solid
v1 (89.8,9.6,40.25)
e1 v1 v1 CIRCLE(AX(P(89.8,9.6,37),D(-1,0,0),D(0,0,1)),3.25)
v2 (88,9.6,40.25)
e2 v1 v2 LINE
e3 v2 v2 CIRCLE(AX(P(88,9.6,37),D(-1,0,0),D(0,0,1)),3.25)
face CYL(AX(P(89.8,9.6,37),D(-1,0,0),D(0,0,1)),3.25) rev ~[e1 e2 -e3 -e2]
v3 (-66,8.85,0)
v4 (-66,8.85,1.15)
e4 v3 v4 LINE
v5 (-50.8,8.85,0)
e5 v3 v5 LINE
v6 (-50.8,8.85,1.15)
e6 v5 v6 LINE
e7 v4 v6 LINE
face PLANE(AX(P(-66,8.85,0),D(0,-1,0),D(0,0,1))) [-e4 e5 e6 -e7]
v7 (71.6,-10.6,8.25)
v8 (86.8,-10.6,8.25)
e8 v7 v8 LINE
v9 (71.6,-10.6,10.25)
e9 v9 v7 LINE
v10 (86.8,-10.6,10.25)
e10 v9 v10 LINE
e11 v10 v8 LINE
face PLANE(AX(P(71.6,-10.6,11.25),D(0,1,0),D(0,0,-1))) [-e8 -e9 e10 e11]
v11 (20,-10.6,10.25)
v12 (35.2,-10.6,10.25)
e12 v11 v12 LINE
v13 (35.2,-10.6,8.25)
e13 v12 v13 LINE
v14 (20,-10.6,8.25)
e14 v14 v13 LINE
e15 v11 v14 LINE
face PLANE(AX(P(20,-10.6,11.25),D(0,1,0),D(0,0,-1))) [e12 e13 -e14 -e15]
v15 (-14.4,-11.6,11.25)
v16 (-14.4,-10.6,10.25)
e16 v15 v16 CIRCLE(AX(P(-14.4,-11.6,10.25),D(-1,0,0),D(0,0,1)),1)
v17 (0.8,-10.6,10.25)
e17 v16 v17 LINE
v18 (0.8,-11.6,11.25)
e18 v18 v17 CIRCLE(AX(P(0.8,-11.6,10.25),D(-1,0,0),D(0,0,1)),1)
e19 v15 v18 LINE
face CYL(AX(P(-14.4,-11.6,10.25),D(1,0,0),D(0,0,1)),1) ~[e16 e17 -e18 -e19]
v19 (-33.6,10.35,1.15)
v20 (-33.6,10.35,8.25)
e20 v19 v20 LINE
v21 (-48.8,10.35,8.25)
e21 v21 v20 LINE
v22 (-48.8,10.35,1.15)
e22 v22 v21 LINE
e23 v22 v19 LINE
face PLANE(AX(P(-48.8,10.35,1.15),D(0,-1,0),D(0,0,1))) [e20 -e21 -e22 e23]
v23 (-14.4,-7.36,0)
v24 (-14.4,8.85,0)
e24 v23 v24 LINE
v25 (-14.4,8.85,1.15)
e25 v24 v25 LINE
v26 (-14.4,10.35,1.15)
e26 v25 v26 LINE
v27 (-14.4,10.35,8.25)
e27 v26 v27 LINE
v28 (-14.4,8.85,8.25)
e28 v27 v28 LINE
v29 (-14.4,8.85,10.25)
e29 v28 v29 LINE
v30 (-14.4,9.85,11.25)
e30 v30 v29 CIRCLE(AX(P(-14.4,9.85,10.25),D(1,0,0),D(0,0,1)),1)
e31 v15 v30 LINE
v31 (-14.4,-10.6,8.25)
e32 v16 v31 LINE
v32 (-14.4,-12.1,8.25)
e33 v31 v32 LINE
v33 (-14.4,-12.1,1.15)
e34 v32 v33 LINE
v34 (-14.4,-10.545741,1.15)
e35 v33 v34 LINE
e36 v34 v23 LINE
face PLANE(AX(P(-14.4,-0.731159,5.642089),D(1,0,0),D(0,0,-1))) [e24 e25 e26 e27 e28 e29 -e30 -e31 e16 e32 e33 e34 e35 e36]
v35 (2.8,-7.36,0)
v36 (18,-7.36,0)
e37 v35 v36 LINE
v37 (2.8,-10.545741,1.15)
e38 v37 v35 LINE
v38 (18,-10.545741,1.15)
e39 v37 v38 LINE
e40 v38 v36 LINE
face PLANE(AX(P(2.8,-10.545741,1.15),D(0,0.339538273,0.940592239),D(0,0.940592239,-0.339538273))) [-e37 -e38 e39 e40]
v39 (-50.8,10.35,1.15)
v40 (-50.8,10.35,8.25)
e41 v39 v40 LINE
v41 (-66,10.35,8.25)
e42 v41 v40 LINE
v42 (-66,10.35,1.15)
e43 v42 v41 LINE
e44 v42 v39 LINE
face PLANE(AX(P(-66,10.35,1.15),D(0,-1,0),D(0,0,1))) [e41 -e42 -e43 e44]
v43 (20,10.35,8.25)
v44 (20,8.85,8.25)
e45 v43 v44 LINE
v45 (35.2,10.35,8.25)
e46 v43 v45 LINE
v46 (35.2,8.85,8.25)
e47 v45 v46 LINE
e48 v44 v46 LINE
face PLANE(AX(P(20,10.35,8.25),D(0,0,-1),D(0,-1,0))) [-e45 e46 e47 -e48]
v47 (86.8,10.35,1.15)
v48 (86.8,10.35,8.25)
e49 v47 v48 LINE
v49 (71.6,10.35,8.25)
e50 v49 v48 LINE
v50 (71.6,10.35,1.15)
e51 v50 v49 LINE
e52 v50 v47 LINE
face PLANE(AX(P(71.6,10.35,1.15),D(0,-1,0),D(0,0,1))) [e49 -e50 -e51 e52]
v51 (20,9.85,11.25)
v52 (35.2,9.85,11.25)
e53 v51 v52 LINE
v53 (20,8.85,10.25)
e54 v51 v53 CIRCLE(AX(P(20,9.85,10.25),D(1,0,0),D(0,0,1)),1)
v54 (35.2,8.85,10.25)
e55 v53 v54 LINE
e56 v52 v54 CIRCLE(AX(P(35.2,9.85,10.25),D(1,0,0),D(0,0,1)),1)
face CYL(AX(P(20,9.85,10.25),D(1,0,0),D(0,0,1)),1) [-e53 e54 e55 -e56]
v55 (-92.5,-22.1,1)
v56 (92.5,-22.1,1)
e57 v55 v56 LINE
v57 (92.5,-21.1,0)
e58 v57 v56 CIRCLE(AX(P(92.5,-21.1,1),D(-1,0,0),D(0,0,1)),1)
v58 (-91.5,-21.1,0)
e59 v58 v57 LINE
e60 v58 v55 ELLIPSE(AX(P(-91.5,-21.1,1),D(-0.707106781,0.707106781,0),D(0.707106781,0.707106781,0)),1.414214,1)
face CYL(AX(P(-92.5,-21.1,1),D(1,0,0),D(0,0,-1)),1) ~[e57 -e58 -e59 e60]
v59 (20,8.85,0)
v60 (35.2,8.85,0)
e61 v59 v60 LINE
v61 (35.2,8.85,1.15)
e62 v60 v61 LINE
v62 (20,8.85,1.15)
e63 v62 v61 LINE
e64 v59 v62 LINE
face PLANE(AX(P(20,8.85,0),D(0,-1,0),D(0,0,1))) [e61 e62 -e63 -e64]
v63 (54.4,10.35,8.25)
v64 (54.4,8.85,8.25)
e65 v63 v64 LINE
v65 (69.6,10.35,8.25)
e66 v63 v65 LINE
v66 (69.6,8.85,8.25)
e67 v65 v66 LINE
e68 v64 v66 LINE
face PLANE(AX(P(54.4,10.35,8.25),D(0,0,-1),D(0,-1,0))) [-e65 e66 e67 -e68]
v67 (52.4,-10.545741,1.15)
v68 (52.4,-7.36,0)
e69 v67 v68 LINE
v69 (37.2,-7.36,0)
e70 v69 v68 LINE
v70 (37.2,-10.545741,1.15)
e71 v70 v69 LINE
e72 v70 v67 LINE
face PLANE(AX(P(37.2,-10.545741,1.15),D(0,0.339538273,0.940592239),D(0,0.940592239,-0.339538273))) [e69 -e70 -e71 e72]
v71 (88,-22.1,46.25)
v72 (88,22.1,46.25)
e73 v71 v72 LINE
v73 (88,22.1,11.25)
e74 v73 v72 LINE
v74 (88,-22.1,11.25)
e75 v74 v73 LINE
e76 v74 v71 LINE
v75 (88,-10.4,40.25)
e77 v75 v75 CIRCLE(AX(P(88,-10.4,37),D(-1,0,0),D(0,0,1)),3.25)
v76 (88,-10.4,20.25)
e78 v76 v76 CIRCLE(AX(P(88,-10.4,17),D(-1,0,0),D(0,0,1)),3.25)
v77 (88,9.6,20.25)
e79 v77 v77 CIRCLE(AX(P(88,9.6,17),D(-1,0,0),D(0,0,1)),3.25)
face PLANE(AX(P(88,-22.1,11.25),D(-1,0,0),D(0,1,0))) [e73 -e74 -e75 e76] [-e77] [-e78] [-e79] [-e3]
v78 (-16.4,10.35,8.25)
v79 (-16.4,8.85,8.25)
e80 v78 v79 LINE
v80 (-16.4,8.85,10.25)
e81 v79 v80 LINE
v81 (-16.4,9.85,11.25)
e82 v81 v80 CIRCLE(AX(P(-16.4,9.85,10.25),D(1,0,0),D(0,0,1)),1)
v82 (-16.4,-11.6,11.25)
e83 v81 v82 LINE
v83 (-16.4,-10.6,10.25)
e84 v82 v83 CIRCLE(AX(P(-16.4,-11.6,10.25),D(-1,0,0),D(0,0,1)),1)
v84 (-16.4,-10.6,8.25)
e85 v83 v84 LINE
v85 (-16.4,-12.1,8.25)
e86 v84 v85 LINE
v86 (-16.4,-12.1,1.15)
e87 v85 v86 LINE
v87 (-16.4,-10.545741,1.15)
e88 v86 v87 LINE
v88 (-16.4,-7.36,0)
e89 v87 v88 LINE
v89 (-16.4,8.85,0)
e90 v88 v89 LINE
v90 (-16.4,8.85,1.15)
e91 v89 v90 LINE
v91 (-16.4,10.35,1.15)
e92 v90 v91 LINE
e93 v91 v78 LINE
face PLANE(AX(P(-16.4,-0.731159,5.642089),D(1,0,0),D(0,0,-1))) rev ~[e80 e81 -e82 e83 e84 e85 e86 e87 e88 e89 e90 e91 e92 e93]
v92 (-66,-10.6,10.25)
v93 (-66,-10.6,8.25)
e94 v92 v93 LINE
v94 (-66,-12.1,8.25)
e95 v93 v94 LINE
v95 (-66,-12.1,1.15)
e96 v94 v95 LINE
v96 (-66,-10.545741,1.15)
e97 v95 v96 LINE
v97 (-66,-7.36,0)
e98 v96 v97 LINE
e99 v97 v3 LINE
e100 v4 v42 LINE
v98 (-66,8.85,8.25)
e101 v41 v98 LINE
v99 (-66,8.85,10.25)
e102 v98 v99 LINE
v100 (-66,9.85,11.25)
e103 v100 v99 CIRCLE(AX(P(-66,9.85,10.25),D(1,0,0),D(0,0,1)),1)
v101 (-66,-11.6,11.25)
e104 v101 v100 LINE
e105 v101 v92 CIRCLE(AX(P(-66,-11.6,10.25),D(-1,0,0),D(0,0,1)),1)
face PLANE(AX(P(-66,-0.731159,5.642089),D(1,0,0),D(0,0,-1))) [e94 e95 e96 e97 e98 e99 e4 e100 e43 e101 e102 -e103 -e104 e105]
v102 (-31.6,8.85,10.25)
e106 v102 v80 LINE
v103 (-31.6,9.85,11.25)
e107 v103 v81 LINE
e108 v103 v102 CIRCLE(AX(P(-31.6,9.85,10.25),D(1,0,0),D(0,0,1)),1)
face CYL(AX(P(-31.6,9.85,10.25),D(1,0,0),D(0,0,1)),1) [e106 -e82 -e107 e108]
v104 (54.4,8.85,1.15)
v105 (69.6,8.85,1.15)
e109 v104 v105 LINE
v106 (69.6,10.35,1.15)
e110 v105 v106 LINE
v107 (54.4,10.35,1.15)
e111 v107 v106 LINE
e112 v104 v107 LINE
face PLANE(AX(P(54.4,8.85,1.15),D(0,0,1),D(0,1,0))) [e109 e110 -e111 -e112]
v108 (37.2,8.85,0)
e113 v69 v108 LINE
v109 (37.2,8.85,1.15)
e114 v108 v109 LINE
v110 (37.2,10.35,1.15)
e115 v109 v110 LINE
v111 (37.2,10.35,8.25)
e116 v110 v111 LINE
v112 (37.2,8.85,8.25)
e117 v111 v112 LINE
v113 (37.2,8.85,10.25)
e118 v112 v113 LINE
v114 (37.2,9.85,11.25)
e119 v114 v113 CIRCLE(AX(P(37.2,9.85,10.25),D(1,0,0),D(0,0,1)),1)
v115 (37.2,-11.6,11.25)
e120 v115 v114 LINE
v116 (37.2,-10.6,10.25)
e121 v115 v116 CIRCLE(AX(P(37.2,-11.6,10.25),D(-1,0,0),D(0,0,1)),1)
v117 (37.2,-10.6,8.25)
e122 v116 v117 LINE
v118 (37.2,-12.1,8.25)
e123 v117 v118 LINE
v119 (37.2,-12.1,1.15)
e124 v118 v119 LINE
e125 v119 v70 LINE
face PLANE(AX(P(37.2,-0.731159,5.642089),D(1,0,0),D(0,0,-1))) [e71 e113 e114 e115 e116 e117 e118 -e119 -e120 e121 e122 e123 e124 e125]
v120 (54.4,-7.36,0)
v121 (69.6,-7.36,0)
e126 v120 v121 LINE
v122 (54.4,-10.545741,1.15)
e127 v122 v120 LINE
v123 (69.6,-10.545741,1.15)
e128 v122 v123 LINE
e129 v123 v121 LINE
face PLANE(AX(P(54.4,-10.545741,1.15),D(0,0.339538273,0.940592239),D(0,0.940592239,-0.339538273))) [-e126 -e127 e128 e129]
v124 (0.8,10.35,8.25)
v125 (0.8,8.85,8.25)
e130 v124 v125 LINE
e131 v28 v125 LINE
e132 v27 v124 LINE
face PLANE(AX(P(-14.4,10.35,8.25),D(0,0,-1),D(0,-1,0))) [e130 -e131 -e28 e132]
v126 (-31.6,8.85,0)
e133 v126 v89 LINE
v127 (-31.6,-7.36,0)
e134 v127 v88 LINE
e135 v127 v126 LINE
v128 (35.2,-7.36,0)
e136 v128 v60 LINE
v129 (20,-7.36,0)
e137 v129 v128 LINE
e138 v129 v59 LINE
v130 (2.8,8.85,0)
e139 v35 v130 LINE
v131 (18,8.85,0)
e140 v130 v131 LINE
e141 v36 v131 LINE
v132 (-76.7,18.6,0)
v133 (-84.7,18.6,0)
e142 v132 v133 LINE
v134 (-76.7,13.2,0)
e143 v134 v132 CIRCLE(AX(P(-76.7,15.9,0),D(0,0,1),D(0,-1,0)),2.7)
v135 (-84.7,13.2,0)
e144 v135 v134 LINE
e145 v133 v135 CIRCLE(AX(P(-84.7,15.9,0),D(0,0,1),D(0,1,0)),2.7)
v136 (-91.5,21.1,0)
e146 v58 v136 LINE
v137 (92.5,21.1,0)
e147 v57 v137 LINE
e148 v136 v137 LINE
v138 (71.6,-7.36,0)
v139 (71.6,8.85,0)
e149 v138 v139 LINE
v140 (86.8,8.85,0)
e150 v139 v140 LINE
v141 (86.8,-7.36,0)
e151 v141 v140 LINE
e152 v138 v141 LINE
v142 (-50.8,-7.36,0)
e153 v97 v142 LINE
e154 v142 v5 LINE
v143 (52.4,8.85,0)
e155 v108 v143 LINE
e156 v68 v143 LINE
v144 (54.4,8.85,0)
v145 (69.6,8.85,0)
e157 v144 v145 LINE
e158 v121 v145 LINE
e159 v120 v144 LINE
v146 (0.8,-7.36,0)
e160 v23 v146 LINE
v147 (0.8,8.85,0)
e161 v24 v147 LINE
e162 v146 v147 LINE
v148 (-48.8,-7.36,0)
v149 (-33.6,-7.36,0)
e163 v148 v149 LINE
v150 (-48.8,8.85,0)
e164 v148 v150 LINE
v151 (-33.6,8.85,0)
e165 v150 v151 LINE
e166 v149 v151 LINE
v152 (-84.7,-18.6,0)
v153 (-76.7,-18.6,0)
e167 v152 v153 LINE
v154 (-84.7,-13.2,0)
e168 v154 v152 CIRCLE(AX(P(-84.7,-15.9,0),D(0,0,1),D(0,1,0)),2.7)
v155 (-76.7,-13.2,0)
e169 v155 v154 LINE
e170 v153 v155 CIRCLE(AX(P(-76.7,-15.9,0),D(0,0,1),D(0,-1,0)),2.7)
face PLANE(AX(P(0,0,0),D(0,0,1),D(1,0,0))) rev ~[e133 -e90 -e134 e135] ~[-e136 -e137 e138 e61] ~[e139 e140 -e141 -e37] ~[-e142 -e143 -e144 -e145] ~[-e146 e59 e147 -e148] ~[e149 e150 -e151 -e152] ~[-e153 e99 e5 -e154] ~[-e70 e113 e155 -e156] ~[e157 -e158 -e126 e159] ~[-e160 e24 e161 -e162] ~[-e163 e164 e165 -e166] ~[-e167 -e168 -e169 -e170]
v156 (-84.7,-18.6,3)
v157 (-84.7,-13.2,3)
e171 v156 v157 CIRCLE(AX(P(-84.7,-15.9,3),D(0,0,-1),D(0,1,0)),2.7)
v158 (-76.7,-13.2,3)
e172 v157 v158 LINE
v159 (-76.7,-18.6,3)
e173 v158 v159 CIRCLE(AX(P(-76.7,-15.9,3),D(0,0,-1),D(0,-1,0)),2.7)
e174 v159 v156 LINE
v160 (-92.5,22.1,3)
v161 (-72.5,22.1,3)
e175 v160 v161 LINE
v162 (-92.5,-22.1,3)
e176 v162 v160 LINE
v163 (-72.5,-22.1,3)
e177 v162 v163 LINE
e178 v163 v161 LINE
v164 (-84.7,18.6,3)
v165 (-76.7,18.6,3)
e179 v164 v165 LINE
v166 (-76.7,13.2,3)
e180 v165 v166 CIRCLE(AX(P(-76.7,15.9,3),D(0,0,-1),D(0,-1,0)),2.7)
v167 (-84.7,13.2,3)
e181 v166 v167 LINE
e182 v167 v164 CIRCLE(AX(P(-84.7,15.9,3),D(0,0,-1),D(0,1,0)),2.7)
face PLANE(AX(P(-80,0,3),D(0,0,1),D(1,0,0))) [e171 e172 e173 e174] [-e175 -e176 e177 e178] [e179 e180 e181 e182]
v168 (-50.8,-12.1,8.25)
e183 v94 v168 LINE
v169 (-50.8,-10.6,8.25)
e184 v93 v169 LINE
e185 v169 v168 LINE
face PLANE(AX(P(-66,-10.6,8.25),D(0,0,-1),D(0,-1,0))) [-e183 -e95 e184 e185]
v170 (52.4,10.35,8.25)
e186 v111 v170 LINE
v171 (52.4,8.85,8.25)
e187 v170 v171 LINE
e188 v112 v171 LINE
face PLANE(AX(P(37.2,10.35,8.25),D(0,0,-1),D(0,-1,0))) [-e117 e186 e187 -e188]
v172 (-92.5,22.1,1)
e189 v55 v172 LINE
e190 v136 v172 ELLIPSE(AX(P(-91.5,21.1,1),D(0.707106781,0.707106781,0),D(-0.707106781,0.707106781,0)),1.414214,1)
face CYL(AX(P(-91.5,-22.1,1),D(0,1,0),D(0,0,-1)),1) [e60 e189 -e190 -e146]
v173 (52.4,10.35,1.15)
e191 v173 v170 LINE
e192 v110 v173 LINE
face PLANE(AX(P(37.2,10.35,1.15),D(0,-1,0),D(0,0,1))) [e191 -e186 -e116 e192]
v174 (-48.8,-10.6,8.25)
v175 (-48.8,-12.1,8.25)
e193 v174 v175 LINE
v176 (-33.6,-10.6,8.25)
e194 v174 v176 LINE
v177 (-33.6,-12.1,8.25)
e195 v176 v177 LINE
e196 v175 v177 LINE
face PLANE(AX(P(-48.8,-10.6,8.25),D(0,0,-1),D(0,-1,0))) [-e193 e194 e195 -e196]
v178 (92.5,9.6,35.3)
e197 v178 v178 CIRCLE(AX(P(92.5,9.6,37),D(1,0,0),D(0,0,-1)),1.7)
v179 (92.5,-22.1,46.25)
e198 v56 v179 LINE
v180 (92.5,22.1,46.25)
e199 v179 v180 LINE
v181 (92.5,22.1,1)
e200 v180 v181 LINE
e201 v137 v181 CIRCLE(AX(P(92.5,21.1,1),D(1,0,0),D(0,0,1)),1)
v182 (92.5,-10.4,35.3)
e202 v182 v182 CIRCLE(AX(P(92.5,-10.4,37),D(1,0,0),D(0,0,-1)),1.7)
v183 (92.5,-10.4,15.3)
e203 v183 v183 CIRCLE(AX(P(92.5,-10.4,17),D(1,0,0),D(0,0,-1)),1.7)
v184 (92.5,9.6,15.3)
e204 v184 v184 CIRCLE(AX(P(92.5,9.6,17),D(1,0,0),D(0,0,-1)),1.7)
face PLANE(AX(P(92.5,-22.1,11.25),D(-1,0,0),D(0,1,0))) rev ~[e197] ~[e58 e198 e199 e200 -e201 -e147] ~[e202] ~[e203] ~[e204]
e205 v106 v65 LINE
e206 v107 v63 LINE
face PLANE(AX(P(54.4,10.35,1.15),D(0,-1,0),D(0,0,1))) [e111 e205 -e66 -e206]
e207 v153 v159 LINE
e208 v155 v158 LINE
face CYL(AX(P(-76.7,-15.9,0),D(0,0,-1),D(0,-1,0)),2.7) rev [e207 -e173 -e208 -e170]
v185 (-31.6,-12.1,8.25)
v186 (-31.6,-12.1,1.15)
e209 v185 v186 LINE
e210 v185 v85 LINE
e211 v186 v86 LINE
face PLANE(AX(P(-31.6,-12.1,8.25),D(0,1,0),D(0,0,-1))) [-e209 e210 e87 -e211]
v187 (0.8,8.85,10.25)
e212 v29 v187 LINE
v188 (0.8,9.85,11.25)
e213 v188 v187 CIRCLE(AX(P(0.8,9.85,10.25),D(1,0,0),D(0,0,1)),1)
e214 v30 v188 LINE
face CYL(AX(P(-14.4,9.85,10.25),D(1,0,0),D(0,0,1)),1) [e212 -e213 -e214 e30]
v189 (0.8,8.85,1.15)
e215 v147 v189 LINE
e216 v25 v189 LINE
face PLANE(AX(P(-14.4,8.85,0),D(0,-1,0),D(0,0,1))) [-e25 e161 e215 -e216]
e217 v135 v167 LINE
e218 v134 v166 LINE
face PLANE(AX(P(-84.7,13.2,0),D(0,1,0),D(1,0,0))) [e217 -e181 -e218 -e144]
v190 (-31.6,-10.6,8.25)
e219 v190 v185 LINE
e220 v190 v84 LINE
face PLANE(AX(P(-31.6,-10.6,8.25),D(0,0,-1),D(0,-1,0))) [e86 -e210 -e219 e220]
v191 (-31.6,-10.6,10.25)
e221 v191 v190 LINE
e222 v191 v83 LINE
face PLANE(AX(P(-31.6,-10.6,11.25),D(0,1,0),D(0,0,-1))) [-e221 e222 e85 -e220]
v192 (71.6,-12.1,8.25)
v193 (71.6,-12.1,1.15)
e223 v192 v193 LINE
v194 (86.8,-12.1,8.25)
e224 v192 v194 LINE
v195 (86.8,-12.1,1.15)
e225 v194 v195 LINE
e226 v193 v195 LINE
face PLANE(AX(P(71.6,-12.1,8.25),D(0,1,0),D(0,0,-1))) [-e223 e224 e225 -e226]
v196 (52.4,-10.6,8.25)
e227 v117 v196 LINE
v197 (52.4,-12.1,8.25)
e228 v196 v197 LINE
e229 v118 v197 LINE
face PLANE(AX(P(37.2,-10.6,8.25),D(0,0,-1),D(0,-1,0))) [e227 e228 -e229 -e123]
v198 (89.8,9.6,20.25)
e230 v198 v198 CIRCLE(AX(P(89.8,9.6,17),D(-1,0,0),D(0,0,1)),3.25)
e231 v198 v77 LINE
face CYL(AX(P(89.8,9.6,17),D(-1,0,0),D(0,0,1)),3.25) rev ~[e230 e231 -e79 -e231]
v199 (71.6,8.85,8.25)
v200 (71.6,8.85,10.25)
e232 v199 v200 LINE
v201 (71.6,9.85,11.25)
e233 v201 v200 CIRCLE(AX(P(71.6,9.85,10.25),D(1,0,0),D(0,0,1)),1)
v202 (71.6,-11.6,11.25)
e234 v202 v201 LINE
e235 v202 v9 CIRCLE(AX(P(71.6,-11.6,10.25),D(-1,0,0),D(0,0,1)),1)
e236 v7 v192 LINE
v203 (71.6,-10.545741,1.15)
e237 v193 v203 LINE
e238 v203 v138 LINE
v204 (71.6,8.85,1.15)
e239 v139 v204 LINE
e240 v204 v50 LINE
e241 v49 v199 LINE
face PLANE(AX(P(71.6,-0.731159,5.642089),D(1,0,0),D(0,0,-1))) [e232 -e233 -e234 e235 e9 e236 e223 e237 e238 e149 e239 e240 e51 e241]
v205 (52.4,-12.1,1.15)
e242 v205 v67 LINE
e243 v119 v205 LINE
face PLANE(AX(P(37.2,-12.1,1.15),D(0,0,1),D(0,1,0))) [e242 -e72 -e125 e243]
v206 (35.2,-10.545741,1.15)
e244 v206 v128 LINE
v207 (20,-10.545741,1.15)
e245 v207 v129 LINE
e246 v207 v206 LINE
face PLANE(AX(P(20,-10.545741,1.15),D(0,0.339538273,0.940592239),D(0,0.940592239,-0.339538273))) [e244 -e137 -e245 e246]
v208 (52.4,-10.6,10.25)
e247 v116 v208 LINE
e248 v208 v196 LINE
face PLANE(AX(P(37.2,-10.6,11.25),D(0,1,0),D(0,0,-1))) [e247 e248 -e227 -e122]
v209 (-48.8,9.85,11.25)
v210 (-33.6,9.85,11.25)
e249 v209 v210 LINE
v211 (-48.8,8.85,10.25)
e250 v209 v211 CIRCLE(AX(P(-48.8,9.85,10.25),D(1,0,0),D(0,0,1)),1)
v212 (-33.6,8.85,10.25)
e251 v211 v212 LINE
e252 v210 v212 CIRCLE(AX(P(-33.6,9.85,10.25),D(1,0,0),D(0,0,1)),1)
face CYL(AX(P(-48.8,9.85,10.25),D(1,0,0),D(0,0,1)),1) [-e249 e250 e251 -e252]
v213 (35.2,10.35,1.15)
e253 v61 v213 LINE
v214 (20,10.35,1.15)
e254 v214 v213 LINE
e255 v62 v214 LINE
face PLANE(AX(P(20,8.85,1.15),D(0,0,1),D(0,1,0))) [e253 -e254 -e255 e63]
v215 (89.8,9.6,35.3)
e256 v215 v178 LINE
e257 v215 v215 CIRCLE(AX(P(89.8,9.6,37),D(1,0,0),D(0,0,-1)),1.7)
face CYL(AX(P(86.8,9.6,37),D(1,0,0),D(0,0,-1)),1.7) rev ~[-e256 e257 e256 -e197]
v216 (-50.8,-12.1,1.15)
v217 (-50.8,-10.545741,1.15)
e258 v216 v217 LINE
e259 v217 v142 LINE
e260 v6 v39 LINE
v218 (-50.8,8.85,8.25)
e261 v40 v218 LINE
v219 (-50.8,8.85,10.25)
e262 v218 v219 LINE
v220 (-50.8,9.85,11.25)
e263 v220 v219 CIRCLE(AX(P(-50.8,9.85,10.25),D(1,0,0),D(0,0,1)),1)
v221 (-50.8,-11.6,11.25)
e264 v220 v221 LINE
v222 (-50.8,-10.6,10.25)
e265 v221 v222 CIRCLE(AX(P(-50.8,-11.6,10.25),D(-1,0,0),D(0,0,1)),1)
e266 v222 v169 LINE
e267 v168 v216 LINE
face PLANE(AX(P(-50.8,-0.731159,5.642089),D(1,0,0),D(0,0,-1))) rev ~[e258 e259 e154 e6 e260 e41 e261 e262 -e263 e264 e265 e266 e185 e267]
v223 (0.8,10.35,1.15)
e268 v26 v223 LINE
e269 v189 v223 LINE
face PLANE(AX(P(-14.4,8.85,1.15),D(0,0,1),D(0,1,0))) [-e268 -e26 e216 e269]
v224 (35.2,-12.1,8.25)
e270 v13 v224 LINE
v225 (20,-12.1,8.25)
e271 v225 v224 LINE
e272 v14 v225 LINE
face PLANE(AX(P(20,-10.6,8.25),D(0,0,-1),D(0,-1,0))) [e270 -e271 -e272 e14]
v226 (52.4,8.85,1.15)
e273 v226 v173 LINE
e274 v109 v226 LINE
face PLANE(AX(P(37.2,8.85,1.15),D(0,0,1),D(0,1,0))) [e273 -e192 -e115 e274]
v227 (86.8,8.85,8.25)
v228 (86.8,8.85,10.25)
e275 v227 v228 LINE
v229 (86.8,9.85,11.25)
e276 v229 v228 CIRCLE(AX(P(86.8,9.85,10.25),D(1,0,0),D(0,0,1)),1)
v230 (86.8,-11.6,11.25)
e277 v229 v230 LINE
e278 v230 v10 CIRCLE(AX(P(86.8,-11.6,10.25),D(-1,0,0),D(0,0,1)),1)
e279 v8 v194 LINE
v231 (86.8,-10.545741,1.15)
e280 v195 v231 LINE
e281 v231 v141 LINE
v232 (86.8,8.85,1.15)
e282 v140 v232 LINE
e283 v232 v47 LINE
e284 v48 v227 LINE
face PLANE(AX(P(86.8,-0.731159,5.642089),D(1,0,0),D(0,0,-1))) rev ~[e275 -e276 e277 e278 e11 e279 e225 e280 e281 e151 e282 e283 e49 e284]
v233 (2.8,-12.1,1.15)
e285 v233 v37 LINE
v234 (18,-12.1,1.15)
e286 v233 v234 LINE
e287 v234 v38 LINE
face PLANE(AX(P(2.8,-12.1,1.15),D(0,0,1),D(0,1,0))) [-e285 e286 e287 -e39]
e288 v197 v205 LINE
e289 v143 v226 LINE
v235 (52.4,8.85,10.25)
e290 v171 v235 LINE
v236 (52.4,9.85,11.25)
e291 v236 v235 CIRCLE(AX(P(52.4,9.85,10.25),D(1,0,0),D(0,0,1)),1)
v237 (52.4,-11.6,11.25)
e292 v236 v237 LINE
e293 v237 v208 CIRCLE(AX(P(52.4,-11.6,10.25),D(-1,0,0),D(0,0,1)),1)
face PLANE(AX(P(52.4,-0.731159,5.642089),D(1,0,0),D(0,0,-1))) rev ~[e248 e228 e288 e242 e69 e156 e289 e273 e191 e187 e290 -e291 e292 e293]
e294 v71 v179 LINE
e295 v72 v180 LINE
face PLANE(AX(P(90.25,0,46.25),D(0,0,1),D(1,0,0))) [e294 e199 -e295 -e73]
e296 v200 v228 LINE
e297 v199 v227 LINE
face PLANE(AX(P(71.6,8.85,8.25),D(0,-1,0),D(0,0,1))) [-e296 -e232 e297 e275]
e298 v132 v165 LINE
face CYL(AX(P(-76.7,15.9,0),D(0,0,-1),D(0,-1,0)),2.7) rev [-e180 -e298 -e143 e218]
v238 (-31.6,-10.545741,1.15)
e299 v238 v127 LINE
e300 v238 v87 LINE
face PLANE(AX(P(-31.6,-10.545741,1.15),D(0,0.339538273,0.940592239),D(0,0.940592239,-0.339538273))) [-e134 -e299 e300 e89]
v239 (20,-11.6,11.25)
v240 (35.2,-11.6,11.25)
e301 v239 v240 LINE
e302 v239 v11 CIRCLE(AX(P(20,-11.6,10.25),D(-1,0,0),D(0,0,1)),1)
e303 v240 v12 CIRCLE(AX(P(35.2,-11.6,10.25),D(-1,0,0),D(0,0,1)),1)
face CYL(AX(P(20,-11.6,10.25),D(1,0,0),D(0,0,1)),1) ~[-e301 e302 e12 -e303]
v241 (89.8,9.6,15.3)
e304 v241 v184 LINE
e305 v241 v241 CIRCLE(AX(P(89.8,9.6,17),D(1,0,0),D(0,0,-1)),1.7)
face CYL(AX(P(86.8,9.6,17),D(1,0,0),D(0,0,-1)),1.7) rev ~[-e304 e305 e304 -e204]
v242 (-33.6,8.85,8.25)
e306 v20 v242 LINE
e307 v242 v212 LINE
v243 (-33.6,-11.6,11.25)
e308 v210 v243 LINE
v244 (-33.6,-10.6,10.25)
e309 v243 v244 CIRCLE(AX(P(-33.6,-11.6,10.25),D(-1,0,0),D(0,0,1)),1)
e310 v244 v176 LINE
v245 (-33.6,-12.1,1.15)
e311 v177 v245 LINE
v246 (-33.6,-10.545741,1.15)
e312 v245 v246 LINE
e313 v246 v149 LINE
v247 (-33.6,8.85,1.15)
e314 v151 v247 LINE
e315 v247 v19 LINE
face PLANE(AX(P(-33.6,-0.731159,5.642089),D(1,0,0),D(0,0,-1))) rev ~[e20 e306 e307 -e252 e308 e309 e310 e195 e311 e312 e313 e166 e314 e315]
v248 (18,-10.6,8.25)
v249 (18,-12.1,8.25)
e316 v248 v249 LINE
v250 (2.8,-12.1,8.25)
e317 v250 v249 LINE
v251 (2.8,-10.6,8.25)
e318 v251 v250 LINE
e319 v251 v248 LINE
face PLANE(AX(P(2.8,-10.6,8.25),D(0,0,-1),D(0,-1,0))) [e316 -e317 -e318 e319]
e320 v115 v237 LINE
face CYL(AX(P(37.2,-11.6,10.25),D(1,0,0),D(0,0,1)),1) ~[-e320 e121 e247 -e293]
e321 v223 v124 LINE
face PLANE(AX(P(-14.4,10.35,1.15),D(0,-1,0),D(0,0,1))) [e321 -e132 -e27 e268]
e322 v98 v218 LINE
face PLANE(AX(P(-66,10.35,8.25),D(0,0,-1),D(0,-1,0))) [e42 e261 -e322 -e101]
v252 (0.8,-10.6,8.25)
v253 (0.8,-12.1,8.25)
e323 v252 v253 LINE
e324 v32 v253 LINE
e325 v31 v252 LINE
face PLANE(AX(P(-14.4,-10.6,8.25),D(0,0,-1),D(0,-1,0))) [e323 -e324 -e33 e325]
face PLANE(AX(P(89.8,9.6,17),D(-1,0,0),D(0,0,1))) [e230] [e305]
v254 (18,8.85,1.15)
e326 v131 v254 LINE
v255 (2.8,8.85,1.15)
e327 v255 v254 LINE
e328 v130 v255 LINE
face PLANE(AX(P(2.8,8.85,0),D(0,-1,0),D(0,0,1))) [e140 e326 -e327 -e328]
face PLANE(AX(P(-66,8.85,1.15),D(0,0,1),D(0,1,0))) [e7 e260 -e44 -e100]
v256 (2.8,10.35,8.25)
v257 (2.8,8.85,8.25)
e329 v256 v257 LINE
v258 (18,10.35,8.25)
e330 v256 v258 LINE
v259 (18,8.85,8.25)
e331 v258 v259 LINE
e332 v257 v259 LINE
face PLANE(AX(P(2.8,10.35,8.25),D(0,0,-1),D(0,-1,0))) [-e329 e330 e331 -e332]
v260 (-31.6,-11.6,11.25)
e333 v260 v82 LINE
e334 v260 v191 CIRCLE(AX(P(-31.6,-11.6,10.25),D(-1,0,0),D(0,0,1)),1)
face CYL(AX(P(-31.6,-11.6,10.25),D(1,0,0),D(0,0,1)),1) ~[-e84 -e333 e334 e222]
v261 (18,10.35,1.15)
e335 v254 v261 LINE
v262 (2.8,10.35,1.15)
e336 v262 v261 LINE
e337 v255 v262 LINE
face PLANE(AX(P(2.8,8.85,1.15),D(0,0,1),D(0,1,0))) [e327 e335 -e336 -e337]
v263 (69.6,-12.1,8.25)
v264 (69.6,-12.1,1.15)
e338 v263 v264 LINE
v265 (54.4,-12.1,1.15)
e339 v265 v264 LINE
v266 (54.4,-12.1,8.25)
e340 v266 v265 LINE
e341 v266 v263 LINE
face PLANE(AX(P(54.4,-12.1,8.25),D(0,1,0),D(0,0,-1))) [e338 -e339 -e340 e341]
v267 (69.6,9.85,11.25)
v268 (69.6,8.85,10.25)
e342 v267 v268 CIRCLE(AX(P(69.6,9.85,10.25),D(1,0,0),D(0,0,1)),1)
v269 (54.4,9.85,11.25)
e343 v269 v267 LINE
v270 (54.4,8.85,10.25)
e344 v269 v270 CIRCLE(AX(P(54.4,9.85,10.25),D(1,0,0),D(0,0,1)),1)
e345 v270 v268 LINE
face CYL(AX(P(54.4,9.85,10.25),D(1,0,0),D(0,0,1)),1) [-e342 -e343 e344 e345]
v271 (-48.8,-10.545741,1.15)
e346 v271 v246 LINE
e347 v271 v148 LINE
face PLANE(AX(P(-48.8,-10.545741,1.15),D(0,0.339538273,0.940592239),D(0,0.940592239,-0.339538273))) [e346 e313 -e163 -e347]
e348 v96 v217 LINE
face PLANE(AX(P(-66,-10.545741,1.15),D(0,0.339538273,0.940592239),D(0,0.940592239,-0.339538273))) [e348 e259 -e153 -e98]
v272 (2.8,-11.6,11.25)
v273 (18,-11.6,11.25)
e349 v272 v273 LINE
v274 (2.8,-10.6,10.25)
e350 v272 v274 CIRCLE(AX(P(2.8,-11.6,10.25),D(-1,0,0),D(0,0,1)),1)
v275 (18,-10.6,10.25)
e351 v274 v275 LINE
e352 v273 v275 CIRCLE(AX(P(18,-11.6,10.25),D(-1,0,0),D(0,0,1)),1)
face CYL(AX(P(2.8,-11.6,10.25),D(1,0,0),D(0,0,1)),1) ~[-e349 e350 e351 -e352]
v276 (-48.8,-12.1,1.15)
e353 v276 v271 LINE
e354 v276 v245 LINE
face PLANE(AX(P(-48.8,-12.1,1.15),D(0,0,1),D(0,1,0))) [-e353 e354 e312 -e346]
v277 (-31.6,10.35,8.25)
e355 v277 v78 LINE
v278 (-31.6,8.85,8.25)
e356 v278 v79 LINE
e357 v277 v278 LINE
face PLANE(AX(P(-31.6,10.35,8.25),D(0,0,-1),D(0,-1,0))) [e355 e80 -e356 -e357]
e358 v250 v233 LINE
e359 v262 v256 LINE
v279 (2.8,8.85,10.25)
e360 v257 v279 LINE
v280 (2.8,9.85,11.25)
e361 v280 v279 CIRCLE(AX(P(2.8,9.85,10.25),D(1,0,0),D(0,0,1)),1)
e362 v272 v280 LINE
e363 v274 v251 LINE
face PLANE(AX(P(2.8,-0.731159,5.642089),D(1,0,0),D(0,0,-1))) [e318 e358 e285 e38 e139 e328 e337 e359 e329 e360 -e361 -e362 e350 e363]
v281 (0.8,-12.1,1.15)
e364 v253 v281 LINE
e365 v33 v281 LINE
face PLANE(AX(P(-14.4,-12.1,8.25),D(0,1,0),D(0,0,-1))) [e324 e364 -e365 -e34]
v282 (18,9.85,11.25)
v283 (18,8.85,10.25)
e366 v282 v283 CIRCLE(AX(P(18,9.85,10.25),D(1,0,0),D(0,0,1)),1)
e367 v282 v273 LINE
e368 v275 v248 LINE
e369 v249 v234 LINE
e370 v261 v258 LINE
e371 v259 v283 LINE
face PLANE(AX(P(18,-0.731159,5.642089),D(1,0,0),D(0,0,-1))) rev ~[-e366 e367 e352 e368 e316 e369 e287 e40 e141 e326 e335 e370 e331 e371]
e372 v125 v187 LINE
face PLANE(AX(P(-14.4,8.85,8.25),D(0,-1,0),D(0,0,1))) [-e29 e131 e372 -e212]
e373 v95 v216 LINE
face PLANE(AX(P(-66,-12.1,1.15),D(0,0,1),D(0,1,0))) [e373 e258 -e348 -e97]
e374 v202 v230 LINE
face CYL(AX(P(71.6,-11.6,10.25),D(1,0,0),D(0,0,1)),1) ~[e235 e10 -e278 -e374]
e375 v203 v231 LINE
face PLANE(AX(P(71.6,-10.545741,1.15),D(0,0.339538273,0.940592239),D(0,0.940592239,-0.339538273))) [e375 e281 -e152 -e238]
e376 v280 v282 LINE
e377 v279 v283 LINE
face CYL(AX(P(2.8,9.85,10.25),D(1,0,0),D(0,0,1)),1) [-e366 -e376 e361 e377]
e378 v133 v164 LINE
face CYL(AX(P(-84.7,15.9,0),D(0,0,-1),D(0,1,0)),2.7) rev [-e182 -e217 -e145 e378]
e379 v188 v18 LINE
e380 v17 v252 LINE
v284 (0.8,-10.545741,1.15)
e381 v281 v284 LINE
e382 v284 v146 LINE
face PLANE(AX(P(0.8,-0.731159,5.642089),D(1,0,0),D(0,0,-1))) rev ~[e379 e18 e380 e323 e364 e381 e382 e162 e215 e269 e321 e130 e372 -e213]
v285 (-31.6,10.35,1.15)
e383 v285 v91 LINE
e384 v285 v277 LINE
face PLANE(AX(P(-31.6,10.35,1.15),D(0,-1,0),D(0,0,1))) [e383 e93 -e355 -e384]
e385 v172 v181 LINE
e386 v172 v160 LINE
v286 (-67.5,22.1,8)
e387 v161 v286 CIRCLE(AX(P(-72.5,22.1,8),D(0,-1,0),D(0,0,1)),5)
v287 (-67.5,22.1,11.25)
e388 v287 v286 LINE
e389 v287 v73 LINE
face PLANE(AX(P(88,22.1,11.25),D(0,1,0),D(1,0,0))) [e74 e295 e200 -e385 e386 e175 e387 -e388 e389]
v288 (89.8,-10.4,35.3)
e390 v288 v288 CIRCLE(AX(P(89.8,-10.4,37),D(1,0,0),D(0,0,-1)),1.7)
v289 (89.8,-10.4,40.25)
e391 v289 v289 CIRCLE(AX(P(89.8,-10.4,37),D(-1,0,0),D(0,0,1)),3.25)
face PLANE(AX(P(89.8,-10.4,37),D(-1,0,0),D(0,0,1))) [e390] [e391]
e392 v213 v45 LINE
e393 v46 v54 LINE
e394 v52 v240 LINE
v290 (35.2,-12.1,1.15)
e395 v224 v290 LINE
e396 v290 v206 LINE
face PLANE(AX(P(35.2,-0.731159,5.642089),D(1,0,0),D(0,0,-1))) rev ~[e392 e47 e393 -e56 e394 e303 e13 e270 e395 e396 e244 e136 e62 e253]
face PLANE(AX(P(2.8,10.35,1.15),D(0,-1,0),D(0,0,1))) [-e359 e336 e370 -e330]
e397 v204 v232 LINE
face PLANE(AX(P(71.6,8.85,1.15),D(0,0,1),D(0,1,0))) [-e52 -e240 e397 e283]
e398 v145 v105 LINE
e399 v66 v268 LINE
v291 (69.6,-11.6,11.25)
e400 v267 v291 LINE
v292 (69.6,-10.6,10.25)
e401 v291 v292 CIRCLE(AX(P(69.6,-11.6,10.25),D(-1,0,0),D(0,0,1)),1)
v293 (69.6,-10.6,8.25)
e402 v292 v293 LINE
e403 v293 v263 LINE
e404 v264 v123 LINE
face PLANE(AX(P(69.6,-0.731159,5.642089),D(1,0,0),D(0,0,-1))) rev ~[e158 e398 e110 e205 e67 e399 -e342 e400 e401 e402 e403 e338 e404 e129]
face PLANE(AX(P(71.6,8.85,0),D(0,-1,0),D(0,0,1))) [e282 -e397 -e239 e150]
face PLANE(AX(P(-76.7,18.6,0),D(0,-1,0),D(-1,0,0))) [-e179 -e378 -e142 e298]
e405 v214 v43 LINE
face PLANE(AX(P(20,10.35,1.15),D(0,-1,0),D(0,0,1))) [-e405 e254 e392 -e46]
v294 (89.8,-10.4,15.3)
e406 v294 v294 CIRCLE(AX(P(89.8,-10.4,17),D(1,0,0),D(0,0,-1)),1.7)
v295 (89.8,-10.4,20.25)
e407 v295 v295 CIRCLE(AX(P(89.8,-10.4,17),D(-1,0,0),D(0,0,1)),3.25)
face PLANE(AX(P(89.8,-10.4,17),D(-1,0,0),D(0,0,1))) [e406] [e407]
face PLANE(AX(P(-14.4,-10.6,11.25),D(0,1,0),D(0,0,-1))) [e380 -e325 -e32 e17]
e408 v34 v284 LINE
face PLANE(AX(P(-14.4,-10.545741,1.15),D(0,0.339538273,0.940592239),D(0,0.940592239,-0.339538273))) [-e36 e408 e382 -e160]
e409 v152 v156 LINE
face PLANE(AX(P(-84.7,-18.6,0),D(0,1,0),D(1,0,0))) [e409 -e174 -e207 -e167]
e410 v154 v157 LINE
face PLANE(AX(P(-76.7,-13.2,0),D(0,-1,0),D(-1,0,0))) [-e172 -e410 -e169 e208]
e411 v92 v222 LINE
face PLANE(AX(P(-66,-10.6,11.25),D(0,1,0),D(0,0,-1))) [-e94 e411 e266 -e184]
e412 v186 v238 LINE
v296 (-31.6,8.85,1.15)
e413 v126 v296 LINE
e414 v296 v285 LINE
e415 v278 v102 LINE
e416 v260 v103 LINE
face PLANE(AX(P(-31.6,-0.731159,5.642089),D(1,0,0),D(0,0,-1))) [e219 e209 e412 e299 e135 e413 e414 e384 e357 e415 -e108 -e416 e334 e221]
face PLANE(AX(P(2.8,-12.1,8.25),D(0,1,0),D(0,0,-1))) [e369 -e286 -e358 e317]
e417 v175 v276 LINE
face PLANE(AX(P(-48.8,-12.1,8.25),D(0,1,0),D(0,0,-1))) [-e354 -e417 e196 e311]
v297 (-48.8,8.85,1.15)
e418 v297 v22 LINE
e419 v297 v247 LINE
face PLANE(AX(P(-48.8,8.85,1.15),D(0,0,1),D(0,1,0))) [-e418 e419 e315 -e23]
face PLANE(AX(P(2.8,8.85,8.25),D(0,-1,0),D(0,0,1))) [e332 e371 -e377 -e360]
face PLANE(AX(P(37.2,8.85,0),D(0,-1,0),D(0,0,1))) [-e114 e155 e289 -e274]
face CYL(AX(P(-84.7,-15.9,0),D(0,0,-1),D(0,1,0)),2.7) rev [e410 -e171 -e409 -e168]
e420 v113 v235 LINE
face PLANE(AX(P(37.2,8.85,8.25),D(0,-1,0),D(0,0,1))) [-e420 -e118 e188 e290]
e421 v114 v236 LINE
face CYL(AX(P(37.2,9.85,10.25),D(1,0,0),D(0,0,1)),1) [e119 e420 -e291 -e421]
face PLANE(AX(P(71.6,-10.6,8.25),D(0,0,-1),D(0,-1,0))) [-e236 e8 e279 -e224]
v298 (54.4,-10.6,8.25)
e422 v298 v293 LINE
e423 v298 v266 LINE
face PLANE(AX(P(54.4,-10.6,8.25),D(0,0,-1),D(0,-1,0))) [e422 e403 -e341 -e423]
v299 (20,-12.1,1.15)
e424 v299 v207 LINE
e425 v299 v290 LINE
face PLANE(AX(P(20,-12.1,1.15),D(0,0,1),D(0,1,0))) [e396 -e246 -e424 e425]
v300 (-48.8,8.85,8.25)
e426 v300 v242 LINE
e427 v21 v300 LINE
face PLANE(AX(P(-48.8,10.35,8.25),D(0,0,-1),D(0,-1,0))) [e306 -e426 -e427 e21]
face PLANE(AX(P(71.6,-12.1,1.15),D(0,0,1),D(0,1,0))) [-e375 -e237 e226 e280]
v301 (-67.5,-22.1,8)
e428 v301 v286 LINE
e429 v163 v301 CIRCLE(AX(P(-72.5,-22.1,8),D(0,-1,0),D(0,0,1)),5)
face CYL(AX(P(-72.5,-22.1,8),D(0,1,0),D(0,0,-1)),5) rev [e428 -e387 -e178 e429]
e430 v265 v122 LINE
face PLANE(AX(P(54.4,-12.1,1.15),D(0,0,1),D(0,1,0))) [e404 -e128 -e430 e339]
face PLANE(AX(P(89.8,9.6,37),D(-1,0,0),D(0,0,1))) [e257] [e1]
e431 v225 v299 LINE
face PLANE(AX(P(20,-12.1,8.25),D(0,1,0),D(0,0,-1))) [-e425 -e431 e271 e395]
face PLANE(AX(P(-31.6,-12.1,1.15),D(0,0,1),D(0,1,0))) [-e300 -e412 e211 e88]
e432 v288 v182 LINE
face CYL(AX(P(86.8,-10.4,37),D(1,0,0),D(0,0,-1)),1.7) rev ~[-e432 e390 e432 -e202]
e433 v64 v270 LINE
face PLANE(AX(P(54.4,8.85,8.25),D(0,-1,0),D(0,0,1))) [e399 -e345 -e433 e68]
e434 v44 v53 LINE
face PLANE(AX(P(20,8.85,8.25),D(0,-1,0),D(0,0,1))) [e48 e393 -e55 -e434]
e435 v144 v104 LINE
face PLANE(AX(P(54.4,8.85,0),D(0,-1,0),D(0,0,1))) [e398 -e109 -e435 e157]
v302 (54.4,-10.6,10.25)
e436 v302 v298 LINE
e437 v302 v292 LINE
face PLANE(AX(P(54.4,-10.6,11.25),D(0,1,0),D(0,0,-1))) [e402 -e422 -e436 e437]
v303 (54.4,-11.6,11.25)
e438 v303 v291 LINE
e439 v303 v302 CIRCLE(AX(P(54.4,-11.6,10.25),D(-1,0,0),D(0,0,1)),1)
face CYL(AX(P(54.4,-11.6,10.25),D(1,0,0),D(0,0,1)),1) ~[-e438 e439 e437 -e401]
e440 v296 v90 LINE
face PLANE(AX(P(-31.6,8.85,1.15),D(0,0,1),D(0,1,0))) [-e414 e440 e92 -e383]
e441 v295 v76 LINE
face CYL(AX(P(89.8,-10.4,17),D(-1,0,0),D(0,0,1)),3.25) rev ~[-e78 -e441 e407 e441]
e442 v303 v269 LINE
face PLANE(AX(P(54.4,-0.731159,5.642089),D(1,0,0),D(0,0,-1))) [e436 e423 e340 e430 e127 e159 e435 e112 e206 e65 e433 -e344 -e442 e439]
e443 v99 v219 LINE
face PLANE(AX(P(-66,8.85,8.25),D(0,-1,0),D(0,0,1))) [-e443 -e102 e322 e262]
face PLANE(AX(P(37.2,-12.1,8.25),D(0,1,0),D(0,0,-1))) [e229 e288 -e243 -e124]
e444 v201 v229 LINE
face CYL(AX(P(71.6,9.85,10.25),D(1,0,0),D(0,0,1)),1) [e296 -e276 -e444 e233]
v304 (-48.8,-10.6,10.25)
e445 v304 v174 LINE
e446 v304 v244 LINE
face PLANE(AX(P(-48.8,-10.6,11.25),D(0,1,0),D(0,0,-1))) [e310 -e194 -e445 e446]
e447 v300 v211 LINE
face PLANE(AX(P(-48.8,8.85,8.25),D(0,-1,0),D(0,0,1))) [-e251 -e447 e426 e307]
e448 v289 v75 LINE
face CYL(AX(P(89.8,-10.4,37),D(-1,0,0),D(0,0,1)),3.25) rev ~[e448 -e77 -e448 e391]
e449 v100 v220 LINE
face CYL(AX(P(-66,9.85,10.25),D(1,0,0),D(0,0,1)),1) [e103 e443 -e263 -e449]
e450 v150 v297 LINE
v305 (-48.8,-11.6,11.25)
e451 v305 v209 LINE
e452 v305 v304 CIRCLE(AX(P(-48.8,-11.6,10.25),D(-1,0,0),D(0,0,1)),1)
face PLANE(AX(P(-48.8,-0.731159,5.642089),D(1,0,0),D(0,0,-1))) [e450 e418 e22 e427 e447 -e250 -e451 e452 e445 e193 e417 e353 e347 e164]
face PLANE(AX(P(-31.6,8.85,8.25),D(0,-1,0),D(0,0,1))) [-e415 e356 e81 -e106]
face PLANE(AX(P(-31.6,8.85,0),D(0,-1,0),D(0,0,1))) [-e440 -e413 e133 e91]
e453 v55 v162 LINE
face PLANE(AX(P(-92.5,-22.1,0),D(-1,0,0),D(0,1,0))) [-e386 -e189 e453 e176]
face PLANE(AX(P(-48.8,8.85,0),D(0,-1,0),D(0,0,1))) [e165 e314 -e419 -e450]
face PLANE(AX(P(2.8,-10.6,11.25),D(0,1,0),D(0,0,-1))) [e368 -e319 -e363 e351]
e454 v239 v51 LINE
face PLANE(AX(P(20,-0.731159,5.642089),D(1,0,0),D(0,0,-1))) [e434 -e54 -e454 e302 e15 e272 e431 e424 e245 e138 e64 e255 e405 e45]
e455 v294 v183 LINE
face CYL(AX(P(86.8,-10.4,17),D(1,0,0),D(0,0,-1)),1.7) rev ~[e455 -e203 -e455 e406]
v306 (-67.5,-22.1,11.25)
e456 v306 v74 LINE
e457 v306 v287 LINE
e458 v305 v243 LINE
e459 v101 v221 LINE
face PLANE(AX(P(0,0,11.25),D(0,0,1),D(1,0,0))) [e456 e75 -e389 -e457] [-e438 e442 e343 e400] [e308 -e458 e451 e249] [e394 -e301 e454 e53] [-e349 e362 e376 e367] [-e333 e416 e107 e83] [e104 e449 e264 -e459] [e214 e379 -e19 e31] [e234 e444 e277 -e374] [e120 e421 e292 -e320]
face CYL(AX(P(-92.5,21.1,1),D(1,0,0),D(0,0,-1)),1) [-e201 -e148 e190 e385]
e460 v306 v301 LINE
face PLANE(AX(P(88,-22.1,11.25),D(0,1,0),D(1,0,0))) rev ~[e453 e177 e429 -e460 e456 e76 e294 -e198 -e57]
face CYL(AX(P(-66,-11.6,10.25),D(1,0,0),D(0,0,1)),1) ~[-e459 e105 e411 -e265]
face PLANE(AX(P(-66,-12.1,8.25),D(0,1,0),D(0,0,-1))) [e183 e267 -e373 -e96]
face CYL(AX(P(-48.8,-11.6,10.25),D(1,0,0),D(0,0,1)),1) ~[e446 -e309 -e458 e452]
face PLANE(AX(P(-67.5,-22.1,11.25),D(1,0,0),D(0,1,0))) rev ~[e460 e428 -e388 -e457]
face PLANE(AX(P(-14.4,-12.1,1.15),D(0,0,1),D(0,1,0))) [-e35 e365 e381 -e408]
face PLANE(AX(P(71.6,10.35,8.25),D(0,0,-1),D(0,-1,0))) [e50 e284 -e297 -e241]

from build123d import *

# Parameters (mm, degrees)
SKETCH1_W                      = 185
SKETCH1_H                      = 44.2
BOSS_EXTRUDE1_DEPTH            = 11.25
SKETCH2_W                      = 25
SKETCH2_H                      = 44.2
CUT_EXTRUDE1_DEPTH             = 8.25
FILLET1_R                      = 5
CUT_EXTRUDE2_DEPTH             = 15.2
LPATTERN1_COUNT                = 9
LPATTERN1_PITCH                = 17.2
SKETCH4_W                      = 4.5
SKETCH4_H                      = 44.2
BOSS_EXTRUDE2_DEPTH            = 35
CBORE_FOR_M3_SHCS1_D           = 3.4
CBORE_FOR_M3_SHCS1_DEPTH       = 10.1
CBORE_FOR_M3_SHCS1_CBORE_D     = 6.5
CBORE_FOR_M3_SHCS1_CBORE_DEPTH = 3
CBORE_FOR_M3_SHCS1_TIP         = 1.021463052
CUT_EXTRUDE3_DEPTH             = 35
FILLET2_R                      = 1
FILLET3_R                      = 1


with BuildPart() as part:
    # Sketch1 → Boss-Extrude1 (new body)
    with BuildSketch(Plane.XY):
        Rectangle(SKETCH1_W, SKETCH1_H)
    extrude(amount=BOSS_EXTRUDE1_DEPTH)

    # Sketch2 → Cut-Extrude1 (cut)
    with BuildSketch(Plane.XY.offset(11.25)):
        with Locations((-80, 0)):
            Rectangle(SKETCH2_W, SKETCH2_H)
    extrude(amount=-CUT_EXTRUDE1_DEPTH, mode=Mode.SUBTRACT)

    # Fillet1
    fillet1_edges = [part.edges().sort_by_distance(p)[0] for p in [
        (-67.5, 0, 3),
    ]]
    fillet(fillet1_edges, radius=FILLET1_R)

    # Sketch3 → Cut-Extrude2 (cut)
    with BuildSketch(Plane.ZY.offset(66)):
        Polygon((0, 8.85), (1.15, 8.85), (1.15, 10.35), (8.25, 10.35), (8.25, 8.85), (11.25, 8.85), (11.25, -10.6), (8.25, -10.6), (8.25, -12.1), (1.15, -12.1), (1.15, -10.545741226), (0, -7.36), align=None)
    cut_extrude2 = extrude(amount=-CUT_EXTRUDE2_DEPTH, mode=Mode.SUBTRACT)

    # LPattern1: Cut-Extrude2 ×9
    with Locations(*[(i * LPATTERN1_PITCH, 0, 0) for i in range(1, LPATTERN1_COUNT)]):
        add(cut_extrude2, mode=Mode.SUBTRACT)

    # Sketch4 → Boss-Extrude2 (add)
    with BuildSketch(Plane.XY.offset(11.25)):
        with Locations((90.25, 0)):
            Rectangle(SKETCH4_W, SKETCH4_H)
    extrude(amount=BOSS_EXTRUDE2_DEPTH)

    # CBORE for M3 SHCS1
    with Locations(Plane.ZY.offset(-86.8)):
        with Locations((17, 9.6), (37, 9.6), (17, -10.4), (37, -10.4)):
            CounterBoreHole(CBORE_FOR_M3_SHCS1_D / 2, CBORE_FOR_M3_SHCS1_CBORE_D / 2, CBORE_FOR_M3_SHCS1_CBORE_DEPTH, depth=CBORE_FOR_M3_SHCS1_DEPTH)
            with Locations((0, 0, -(CBORE_FOR_M3_SHCS1_DEPTH + CBORE_FOR_M3_SHCS1_TIP / 2))):  # 118° drill point
                Cone(0, CBORE_FOR_M3_SHCS1_D / 2, CBORE_FOR_M3_SHCS1_TIP, mode=Mode.SUBTRACT)

    # Sketch10 → Cut-Extrude3 (cut)
    with BuildSketch(Plane(origin=(0, 0, 0), x_dir=(-1, 0, 0), z_dir=(0, 0, -1))):
        with BuildLine():
            Line((76.7, 18.6), (84.7, 18.6))
            ThreePointArc((84.7, 18.6), (87.4, 15.9), (84.7, 13.2))
            Line((84.7, 13.2), (76.7, 13.2))
            ThreePointArc((76.7, 13.2), (74, 15.9), (76.7, 18.6))
        make_face()
        with BuildLine():
            Line((76.7, -13.2), (84.7, -13.2))
            ThreePointArc((84.7, -13.2), (87.4, -15.9), (84.7, -18.6))
            Line((84.7, -18.6), (76.7, -18.6))
            ThreePointArc((76.7, -18.6), (74, -15.9), (76.7, -13.2))
        make_face()
    extrude(amount=-CUT_EXTRUDE3_DEPTH, mode=Mode.SUBTRACT)

    # Fillet2
    fillet2_edges = [part.edges().sort_by_distance(p)[0] for p in [
        (-41.2, 8.85, 11.25),
        (-41.2, -10.6, 11.25),
        (-24, 8.85, 11.25),
        (-24, -10.6, 11.25),
        (-6.8, 8.85, 11.25),
        (-6.8, -10.6, 11.25),
        (10.4, 8.85, 11.25),
        (10.4, -10.6, 11.25),
        (27.6, 8.85, 11.25),
        (27.6, -10.6, 11.25),
        (44.8, 8.85, 11.25),
        (44.8, -10.6, 11.25),
        (62, 8.85, 11.25),
        (62, -10.6, 11.25),
        (79.2, 8.85, 11.25),
        (79.2, -10.6, 11.25),
        (-58.4, 8.85, 11.25),
        (-58.4, -10.6, 11.25),
    ]]
    fillet(fillet2_edges, radius=FILLET2_R)

    # Fillet3
    fillet3_edges = [part.edges().sort_by_distance(p)[0] for p in [
        (0, -22.1, 0),
        (-92.5, 0, 0),
        (0, 22.1, 0),
    ]]
    fillet(fillet3_edges, radius=FILLET3_R)


solid = part.part
